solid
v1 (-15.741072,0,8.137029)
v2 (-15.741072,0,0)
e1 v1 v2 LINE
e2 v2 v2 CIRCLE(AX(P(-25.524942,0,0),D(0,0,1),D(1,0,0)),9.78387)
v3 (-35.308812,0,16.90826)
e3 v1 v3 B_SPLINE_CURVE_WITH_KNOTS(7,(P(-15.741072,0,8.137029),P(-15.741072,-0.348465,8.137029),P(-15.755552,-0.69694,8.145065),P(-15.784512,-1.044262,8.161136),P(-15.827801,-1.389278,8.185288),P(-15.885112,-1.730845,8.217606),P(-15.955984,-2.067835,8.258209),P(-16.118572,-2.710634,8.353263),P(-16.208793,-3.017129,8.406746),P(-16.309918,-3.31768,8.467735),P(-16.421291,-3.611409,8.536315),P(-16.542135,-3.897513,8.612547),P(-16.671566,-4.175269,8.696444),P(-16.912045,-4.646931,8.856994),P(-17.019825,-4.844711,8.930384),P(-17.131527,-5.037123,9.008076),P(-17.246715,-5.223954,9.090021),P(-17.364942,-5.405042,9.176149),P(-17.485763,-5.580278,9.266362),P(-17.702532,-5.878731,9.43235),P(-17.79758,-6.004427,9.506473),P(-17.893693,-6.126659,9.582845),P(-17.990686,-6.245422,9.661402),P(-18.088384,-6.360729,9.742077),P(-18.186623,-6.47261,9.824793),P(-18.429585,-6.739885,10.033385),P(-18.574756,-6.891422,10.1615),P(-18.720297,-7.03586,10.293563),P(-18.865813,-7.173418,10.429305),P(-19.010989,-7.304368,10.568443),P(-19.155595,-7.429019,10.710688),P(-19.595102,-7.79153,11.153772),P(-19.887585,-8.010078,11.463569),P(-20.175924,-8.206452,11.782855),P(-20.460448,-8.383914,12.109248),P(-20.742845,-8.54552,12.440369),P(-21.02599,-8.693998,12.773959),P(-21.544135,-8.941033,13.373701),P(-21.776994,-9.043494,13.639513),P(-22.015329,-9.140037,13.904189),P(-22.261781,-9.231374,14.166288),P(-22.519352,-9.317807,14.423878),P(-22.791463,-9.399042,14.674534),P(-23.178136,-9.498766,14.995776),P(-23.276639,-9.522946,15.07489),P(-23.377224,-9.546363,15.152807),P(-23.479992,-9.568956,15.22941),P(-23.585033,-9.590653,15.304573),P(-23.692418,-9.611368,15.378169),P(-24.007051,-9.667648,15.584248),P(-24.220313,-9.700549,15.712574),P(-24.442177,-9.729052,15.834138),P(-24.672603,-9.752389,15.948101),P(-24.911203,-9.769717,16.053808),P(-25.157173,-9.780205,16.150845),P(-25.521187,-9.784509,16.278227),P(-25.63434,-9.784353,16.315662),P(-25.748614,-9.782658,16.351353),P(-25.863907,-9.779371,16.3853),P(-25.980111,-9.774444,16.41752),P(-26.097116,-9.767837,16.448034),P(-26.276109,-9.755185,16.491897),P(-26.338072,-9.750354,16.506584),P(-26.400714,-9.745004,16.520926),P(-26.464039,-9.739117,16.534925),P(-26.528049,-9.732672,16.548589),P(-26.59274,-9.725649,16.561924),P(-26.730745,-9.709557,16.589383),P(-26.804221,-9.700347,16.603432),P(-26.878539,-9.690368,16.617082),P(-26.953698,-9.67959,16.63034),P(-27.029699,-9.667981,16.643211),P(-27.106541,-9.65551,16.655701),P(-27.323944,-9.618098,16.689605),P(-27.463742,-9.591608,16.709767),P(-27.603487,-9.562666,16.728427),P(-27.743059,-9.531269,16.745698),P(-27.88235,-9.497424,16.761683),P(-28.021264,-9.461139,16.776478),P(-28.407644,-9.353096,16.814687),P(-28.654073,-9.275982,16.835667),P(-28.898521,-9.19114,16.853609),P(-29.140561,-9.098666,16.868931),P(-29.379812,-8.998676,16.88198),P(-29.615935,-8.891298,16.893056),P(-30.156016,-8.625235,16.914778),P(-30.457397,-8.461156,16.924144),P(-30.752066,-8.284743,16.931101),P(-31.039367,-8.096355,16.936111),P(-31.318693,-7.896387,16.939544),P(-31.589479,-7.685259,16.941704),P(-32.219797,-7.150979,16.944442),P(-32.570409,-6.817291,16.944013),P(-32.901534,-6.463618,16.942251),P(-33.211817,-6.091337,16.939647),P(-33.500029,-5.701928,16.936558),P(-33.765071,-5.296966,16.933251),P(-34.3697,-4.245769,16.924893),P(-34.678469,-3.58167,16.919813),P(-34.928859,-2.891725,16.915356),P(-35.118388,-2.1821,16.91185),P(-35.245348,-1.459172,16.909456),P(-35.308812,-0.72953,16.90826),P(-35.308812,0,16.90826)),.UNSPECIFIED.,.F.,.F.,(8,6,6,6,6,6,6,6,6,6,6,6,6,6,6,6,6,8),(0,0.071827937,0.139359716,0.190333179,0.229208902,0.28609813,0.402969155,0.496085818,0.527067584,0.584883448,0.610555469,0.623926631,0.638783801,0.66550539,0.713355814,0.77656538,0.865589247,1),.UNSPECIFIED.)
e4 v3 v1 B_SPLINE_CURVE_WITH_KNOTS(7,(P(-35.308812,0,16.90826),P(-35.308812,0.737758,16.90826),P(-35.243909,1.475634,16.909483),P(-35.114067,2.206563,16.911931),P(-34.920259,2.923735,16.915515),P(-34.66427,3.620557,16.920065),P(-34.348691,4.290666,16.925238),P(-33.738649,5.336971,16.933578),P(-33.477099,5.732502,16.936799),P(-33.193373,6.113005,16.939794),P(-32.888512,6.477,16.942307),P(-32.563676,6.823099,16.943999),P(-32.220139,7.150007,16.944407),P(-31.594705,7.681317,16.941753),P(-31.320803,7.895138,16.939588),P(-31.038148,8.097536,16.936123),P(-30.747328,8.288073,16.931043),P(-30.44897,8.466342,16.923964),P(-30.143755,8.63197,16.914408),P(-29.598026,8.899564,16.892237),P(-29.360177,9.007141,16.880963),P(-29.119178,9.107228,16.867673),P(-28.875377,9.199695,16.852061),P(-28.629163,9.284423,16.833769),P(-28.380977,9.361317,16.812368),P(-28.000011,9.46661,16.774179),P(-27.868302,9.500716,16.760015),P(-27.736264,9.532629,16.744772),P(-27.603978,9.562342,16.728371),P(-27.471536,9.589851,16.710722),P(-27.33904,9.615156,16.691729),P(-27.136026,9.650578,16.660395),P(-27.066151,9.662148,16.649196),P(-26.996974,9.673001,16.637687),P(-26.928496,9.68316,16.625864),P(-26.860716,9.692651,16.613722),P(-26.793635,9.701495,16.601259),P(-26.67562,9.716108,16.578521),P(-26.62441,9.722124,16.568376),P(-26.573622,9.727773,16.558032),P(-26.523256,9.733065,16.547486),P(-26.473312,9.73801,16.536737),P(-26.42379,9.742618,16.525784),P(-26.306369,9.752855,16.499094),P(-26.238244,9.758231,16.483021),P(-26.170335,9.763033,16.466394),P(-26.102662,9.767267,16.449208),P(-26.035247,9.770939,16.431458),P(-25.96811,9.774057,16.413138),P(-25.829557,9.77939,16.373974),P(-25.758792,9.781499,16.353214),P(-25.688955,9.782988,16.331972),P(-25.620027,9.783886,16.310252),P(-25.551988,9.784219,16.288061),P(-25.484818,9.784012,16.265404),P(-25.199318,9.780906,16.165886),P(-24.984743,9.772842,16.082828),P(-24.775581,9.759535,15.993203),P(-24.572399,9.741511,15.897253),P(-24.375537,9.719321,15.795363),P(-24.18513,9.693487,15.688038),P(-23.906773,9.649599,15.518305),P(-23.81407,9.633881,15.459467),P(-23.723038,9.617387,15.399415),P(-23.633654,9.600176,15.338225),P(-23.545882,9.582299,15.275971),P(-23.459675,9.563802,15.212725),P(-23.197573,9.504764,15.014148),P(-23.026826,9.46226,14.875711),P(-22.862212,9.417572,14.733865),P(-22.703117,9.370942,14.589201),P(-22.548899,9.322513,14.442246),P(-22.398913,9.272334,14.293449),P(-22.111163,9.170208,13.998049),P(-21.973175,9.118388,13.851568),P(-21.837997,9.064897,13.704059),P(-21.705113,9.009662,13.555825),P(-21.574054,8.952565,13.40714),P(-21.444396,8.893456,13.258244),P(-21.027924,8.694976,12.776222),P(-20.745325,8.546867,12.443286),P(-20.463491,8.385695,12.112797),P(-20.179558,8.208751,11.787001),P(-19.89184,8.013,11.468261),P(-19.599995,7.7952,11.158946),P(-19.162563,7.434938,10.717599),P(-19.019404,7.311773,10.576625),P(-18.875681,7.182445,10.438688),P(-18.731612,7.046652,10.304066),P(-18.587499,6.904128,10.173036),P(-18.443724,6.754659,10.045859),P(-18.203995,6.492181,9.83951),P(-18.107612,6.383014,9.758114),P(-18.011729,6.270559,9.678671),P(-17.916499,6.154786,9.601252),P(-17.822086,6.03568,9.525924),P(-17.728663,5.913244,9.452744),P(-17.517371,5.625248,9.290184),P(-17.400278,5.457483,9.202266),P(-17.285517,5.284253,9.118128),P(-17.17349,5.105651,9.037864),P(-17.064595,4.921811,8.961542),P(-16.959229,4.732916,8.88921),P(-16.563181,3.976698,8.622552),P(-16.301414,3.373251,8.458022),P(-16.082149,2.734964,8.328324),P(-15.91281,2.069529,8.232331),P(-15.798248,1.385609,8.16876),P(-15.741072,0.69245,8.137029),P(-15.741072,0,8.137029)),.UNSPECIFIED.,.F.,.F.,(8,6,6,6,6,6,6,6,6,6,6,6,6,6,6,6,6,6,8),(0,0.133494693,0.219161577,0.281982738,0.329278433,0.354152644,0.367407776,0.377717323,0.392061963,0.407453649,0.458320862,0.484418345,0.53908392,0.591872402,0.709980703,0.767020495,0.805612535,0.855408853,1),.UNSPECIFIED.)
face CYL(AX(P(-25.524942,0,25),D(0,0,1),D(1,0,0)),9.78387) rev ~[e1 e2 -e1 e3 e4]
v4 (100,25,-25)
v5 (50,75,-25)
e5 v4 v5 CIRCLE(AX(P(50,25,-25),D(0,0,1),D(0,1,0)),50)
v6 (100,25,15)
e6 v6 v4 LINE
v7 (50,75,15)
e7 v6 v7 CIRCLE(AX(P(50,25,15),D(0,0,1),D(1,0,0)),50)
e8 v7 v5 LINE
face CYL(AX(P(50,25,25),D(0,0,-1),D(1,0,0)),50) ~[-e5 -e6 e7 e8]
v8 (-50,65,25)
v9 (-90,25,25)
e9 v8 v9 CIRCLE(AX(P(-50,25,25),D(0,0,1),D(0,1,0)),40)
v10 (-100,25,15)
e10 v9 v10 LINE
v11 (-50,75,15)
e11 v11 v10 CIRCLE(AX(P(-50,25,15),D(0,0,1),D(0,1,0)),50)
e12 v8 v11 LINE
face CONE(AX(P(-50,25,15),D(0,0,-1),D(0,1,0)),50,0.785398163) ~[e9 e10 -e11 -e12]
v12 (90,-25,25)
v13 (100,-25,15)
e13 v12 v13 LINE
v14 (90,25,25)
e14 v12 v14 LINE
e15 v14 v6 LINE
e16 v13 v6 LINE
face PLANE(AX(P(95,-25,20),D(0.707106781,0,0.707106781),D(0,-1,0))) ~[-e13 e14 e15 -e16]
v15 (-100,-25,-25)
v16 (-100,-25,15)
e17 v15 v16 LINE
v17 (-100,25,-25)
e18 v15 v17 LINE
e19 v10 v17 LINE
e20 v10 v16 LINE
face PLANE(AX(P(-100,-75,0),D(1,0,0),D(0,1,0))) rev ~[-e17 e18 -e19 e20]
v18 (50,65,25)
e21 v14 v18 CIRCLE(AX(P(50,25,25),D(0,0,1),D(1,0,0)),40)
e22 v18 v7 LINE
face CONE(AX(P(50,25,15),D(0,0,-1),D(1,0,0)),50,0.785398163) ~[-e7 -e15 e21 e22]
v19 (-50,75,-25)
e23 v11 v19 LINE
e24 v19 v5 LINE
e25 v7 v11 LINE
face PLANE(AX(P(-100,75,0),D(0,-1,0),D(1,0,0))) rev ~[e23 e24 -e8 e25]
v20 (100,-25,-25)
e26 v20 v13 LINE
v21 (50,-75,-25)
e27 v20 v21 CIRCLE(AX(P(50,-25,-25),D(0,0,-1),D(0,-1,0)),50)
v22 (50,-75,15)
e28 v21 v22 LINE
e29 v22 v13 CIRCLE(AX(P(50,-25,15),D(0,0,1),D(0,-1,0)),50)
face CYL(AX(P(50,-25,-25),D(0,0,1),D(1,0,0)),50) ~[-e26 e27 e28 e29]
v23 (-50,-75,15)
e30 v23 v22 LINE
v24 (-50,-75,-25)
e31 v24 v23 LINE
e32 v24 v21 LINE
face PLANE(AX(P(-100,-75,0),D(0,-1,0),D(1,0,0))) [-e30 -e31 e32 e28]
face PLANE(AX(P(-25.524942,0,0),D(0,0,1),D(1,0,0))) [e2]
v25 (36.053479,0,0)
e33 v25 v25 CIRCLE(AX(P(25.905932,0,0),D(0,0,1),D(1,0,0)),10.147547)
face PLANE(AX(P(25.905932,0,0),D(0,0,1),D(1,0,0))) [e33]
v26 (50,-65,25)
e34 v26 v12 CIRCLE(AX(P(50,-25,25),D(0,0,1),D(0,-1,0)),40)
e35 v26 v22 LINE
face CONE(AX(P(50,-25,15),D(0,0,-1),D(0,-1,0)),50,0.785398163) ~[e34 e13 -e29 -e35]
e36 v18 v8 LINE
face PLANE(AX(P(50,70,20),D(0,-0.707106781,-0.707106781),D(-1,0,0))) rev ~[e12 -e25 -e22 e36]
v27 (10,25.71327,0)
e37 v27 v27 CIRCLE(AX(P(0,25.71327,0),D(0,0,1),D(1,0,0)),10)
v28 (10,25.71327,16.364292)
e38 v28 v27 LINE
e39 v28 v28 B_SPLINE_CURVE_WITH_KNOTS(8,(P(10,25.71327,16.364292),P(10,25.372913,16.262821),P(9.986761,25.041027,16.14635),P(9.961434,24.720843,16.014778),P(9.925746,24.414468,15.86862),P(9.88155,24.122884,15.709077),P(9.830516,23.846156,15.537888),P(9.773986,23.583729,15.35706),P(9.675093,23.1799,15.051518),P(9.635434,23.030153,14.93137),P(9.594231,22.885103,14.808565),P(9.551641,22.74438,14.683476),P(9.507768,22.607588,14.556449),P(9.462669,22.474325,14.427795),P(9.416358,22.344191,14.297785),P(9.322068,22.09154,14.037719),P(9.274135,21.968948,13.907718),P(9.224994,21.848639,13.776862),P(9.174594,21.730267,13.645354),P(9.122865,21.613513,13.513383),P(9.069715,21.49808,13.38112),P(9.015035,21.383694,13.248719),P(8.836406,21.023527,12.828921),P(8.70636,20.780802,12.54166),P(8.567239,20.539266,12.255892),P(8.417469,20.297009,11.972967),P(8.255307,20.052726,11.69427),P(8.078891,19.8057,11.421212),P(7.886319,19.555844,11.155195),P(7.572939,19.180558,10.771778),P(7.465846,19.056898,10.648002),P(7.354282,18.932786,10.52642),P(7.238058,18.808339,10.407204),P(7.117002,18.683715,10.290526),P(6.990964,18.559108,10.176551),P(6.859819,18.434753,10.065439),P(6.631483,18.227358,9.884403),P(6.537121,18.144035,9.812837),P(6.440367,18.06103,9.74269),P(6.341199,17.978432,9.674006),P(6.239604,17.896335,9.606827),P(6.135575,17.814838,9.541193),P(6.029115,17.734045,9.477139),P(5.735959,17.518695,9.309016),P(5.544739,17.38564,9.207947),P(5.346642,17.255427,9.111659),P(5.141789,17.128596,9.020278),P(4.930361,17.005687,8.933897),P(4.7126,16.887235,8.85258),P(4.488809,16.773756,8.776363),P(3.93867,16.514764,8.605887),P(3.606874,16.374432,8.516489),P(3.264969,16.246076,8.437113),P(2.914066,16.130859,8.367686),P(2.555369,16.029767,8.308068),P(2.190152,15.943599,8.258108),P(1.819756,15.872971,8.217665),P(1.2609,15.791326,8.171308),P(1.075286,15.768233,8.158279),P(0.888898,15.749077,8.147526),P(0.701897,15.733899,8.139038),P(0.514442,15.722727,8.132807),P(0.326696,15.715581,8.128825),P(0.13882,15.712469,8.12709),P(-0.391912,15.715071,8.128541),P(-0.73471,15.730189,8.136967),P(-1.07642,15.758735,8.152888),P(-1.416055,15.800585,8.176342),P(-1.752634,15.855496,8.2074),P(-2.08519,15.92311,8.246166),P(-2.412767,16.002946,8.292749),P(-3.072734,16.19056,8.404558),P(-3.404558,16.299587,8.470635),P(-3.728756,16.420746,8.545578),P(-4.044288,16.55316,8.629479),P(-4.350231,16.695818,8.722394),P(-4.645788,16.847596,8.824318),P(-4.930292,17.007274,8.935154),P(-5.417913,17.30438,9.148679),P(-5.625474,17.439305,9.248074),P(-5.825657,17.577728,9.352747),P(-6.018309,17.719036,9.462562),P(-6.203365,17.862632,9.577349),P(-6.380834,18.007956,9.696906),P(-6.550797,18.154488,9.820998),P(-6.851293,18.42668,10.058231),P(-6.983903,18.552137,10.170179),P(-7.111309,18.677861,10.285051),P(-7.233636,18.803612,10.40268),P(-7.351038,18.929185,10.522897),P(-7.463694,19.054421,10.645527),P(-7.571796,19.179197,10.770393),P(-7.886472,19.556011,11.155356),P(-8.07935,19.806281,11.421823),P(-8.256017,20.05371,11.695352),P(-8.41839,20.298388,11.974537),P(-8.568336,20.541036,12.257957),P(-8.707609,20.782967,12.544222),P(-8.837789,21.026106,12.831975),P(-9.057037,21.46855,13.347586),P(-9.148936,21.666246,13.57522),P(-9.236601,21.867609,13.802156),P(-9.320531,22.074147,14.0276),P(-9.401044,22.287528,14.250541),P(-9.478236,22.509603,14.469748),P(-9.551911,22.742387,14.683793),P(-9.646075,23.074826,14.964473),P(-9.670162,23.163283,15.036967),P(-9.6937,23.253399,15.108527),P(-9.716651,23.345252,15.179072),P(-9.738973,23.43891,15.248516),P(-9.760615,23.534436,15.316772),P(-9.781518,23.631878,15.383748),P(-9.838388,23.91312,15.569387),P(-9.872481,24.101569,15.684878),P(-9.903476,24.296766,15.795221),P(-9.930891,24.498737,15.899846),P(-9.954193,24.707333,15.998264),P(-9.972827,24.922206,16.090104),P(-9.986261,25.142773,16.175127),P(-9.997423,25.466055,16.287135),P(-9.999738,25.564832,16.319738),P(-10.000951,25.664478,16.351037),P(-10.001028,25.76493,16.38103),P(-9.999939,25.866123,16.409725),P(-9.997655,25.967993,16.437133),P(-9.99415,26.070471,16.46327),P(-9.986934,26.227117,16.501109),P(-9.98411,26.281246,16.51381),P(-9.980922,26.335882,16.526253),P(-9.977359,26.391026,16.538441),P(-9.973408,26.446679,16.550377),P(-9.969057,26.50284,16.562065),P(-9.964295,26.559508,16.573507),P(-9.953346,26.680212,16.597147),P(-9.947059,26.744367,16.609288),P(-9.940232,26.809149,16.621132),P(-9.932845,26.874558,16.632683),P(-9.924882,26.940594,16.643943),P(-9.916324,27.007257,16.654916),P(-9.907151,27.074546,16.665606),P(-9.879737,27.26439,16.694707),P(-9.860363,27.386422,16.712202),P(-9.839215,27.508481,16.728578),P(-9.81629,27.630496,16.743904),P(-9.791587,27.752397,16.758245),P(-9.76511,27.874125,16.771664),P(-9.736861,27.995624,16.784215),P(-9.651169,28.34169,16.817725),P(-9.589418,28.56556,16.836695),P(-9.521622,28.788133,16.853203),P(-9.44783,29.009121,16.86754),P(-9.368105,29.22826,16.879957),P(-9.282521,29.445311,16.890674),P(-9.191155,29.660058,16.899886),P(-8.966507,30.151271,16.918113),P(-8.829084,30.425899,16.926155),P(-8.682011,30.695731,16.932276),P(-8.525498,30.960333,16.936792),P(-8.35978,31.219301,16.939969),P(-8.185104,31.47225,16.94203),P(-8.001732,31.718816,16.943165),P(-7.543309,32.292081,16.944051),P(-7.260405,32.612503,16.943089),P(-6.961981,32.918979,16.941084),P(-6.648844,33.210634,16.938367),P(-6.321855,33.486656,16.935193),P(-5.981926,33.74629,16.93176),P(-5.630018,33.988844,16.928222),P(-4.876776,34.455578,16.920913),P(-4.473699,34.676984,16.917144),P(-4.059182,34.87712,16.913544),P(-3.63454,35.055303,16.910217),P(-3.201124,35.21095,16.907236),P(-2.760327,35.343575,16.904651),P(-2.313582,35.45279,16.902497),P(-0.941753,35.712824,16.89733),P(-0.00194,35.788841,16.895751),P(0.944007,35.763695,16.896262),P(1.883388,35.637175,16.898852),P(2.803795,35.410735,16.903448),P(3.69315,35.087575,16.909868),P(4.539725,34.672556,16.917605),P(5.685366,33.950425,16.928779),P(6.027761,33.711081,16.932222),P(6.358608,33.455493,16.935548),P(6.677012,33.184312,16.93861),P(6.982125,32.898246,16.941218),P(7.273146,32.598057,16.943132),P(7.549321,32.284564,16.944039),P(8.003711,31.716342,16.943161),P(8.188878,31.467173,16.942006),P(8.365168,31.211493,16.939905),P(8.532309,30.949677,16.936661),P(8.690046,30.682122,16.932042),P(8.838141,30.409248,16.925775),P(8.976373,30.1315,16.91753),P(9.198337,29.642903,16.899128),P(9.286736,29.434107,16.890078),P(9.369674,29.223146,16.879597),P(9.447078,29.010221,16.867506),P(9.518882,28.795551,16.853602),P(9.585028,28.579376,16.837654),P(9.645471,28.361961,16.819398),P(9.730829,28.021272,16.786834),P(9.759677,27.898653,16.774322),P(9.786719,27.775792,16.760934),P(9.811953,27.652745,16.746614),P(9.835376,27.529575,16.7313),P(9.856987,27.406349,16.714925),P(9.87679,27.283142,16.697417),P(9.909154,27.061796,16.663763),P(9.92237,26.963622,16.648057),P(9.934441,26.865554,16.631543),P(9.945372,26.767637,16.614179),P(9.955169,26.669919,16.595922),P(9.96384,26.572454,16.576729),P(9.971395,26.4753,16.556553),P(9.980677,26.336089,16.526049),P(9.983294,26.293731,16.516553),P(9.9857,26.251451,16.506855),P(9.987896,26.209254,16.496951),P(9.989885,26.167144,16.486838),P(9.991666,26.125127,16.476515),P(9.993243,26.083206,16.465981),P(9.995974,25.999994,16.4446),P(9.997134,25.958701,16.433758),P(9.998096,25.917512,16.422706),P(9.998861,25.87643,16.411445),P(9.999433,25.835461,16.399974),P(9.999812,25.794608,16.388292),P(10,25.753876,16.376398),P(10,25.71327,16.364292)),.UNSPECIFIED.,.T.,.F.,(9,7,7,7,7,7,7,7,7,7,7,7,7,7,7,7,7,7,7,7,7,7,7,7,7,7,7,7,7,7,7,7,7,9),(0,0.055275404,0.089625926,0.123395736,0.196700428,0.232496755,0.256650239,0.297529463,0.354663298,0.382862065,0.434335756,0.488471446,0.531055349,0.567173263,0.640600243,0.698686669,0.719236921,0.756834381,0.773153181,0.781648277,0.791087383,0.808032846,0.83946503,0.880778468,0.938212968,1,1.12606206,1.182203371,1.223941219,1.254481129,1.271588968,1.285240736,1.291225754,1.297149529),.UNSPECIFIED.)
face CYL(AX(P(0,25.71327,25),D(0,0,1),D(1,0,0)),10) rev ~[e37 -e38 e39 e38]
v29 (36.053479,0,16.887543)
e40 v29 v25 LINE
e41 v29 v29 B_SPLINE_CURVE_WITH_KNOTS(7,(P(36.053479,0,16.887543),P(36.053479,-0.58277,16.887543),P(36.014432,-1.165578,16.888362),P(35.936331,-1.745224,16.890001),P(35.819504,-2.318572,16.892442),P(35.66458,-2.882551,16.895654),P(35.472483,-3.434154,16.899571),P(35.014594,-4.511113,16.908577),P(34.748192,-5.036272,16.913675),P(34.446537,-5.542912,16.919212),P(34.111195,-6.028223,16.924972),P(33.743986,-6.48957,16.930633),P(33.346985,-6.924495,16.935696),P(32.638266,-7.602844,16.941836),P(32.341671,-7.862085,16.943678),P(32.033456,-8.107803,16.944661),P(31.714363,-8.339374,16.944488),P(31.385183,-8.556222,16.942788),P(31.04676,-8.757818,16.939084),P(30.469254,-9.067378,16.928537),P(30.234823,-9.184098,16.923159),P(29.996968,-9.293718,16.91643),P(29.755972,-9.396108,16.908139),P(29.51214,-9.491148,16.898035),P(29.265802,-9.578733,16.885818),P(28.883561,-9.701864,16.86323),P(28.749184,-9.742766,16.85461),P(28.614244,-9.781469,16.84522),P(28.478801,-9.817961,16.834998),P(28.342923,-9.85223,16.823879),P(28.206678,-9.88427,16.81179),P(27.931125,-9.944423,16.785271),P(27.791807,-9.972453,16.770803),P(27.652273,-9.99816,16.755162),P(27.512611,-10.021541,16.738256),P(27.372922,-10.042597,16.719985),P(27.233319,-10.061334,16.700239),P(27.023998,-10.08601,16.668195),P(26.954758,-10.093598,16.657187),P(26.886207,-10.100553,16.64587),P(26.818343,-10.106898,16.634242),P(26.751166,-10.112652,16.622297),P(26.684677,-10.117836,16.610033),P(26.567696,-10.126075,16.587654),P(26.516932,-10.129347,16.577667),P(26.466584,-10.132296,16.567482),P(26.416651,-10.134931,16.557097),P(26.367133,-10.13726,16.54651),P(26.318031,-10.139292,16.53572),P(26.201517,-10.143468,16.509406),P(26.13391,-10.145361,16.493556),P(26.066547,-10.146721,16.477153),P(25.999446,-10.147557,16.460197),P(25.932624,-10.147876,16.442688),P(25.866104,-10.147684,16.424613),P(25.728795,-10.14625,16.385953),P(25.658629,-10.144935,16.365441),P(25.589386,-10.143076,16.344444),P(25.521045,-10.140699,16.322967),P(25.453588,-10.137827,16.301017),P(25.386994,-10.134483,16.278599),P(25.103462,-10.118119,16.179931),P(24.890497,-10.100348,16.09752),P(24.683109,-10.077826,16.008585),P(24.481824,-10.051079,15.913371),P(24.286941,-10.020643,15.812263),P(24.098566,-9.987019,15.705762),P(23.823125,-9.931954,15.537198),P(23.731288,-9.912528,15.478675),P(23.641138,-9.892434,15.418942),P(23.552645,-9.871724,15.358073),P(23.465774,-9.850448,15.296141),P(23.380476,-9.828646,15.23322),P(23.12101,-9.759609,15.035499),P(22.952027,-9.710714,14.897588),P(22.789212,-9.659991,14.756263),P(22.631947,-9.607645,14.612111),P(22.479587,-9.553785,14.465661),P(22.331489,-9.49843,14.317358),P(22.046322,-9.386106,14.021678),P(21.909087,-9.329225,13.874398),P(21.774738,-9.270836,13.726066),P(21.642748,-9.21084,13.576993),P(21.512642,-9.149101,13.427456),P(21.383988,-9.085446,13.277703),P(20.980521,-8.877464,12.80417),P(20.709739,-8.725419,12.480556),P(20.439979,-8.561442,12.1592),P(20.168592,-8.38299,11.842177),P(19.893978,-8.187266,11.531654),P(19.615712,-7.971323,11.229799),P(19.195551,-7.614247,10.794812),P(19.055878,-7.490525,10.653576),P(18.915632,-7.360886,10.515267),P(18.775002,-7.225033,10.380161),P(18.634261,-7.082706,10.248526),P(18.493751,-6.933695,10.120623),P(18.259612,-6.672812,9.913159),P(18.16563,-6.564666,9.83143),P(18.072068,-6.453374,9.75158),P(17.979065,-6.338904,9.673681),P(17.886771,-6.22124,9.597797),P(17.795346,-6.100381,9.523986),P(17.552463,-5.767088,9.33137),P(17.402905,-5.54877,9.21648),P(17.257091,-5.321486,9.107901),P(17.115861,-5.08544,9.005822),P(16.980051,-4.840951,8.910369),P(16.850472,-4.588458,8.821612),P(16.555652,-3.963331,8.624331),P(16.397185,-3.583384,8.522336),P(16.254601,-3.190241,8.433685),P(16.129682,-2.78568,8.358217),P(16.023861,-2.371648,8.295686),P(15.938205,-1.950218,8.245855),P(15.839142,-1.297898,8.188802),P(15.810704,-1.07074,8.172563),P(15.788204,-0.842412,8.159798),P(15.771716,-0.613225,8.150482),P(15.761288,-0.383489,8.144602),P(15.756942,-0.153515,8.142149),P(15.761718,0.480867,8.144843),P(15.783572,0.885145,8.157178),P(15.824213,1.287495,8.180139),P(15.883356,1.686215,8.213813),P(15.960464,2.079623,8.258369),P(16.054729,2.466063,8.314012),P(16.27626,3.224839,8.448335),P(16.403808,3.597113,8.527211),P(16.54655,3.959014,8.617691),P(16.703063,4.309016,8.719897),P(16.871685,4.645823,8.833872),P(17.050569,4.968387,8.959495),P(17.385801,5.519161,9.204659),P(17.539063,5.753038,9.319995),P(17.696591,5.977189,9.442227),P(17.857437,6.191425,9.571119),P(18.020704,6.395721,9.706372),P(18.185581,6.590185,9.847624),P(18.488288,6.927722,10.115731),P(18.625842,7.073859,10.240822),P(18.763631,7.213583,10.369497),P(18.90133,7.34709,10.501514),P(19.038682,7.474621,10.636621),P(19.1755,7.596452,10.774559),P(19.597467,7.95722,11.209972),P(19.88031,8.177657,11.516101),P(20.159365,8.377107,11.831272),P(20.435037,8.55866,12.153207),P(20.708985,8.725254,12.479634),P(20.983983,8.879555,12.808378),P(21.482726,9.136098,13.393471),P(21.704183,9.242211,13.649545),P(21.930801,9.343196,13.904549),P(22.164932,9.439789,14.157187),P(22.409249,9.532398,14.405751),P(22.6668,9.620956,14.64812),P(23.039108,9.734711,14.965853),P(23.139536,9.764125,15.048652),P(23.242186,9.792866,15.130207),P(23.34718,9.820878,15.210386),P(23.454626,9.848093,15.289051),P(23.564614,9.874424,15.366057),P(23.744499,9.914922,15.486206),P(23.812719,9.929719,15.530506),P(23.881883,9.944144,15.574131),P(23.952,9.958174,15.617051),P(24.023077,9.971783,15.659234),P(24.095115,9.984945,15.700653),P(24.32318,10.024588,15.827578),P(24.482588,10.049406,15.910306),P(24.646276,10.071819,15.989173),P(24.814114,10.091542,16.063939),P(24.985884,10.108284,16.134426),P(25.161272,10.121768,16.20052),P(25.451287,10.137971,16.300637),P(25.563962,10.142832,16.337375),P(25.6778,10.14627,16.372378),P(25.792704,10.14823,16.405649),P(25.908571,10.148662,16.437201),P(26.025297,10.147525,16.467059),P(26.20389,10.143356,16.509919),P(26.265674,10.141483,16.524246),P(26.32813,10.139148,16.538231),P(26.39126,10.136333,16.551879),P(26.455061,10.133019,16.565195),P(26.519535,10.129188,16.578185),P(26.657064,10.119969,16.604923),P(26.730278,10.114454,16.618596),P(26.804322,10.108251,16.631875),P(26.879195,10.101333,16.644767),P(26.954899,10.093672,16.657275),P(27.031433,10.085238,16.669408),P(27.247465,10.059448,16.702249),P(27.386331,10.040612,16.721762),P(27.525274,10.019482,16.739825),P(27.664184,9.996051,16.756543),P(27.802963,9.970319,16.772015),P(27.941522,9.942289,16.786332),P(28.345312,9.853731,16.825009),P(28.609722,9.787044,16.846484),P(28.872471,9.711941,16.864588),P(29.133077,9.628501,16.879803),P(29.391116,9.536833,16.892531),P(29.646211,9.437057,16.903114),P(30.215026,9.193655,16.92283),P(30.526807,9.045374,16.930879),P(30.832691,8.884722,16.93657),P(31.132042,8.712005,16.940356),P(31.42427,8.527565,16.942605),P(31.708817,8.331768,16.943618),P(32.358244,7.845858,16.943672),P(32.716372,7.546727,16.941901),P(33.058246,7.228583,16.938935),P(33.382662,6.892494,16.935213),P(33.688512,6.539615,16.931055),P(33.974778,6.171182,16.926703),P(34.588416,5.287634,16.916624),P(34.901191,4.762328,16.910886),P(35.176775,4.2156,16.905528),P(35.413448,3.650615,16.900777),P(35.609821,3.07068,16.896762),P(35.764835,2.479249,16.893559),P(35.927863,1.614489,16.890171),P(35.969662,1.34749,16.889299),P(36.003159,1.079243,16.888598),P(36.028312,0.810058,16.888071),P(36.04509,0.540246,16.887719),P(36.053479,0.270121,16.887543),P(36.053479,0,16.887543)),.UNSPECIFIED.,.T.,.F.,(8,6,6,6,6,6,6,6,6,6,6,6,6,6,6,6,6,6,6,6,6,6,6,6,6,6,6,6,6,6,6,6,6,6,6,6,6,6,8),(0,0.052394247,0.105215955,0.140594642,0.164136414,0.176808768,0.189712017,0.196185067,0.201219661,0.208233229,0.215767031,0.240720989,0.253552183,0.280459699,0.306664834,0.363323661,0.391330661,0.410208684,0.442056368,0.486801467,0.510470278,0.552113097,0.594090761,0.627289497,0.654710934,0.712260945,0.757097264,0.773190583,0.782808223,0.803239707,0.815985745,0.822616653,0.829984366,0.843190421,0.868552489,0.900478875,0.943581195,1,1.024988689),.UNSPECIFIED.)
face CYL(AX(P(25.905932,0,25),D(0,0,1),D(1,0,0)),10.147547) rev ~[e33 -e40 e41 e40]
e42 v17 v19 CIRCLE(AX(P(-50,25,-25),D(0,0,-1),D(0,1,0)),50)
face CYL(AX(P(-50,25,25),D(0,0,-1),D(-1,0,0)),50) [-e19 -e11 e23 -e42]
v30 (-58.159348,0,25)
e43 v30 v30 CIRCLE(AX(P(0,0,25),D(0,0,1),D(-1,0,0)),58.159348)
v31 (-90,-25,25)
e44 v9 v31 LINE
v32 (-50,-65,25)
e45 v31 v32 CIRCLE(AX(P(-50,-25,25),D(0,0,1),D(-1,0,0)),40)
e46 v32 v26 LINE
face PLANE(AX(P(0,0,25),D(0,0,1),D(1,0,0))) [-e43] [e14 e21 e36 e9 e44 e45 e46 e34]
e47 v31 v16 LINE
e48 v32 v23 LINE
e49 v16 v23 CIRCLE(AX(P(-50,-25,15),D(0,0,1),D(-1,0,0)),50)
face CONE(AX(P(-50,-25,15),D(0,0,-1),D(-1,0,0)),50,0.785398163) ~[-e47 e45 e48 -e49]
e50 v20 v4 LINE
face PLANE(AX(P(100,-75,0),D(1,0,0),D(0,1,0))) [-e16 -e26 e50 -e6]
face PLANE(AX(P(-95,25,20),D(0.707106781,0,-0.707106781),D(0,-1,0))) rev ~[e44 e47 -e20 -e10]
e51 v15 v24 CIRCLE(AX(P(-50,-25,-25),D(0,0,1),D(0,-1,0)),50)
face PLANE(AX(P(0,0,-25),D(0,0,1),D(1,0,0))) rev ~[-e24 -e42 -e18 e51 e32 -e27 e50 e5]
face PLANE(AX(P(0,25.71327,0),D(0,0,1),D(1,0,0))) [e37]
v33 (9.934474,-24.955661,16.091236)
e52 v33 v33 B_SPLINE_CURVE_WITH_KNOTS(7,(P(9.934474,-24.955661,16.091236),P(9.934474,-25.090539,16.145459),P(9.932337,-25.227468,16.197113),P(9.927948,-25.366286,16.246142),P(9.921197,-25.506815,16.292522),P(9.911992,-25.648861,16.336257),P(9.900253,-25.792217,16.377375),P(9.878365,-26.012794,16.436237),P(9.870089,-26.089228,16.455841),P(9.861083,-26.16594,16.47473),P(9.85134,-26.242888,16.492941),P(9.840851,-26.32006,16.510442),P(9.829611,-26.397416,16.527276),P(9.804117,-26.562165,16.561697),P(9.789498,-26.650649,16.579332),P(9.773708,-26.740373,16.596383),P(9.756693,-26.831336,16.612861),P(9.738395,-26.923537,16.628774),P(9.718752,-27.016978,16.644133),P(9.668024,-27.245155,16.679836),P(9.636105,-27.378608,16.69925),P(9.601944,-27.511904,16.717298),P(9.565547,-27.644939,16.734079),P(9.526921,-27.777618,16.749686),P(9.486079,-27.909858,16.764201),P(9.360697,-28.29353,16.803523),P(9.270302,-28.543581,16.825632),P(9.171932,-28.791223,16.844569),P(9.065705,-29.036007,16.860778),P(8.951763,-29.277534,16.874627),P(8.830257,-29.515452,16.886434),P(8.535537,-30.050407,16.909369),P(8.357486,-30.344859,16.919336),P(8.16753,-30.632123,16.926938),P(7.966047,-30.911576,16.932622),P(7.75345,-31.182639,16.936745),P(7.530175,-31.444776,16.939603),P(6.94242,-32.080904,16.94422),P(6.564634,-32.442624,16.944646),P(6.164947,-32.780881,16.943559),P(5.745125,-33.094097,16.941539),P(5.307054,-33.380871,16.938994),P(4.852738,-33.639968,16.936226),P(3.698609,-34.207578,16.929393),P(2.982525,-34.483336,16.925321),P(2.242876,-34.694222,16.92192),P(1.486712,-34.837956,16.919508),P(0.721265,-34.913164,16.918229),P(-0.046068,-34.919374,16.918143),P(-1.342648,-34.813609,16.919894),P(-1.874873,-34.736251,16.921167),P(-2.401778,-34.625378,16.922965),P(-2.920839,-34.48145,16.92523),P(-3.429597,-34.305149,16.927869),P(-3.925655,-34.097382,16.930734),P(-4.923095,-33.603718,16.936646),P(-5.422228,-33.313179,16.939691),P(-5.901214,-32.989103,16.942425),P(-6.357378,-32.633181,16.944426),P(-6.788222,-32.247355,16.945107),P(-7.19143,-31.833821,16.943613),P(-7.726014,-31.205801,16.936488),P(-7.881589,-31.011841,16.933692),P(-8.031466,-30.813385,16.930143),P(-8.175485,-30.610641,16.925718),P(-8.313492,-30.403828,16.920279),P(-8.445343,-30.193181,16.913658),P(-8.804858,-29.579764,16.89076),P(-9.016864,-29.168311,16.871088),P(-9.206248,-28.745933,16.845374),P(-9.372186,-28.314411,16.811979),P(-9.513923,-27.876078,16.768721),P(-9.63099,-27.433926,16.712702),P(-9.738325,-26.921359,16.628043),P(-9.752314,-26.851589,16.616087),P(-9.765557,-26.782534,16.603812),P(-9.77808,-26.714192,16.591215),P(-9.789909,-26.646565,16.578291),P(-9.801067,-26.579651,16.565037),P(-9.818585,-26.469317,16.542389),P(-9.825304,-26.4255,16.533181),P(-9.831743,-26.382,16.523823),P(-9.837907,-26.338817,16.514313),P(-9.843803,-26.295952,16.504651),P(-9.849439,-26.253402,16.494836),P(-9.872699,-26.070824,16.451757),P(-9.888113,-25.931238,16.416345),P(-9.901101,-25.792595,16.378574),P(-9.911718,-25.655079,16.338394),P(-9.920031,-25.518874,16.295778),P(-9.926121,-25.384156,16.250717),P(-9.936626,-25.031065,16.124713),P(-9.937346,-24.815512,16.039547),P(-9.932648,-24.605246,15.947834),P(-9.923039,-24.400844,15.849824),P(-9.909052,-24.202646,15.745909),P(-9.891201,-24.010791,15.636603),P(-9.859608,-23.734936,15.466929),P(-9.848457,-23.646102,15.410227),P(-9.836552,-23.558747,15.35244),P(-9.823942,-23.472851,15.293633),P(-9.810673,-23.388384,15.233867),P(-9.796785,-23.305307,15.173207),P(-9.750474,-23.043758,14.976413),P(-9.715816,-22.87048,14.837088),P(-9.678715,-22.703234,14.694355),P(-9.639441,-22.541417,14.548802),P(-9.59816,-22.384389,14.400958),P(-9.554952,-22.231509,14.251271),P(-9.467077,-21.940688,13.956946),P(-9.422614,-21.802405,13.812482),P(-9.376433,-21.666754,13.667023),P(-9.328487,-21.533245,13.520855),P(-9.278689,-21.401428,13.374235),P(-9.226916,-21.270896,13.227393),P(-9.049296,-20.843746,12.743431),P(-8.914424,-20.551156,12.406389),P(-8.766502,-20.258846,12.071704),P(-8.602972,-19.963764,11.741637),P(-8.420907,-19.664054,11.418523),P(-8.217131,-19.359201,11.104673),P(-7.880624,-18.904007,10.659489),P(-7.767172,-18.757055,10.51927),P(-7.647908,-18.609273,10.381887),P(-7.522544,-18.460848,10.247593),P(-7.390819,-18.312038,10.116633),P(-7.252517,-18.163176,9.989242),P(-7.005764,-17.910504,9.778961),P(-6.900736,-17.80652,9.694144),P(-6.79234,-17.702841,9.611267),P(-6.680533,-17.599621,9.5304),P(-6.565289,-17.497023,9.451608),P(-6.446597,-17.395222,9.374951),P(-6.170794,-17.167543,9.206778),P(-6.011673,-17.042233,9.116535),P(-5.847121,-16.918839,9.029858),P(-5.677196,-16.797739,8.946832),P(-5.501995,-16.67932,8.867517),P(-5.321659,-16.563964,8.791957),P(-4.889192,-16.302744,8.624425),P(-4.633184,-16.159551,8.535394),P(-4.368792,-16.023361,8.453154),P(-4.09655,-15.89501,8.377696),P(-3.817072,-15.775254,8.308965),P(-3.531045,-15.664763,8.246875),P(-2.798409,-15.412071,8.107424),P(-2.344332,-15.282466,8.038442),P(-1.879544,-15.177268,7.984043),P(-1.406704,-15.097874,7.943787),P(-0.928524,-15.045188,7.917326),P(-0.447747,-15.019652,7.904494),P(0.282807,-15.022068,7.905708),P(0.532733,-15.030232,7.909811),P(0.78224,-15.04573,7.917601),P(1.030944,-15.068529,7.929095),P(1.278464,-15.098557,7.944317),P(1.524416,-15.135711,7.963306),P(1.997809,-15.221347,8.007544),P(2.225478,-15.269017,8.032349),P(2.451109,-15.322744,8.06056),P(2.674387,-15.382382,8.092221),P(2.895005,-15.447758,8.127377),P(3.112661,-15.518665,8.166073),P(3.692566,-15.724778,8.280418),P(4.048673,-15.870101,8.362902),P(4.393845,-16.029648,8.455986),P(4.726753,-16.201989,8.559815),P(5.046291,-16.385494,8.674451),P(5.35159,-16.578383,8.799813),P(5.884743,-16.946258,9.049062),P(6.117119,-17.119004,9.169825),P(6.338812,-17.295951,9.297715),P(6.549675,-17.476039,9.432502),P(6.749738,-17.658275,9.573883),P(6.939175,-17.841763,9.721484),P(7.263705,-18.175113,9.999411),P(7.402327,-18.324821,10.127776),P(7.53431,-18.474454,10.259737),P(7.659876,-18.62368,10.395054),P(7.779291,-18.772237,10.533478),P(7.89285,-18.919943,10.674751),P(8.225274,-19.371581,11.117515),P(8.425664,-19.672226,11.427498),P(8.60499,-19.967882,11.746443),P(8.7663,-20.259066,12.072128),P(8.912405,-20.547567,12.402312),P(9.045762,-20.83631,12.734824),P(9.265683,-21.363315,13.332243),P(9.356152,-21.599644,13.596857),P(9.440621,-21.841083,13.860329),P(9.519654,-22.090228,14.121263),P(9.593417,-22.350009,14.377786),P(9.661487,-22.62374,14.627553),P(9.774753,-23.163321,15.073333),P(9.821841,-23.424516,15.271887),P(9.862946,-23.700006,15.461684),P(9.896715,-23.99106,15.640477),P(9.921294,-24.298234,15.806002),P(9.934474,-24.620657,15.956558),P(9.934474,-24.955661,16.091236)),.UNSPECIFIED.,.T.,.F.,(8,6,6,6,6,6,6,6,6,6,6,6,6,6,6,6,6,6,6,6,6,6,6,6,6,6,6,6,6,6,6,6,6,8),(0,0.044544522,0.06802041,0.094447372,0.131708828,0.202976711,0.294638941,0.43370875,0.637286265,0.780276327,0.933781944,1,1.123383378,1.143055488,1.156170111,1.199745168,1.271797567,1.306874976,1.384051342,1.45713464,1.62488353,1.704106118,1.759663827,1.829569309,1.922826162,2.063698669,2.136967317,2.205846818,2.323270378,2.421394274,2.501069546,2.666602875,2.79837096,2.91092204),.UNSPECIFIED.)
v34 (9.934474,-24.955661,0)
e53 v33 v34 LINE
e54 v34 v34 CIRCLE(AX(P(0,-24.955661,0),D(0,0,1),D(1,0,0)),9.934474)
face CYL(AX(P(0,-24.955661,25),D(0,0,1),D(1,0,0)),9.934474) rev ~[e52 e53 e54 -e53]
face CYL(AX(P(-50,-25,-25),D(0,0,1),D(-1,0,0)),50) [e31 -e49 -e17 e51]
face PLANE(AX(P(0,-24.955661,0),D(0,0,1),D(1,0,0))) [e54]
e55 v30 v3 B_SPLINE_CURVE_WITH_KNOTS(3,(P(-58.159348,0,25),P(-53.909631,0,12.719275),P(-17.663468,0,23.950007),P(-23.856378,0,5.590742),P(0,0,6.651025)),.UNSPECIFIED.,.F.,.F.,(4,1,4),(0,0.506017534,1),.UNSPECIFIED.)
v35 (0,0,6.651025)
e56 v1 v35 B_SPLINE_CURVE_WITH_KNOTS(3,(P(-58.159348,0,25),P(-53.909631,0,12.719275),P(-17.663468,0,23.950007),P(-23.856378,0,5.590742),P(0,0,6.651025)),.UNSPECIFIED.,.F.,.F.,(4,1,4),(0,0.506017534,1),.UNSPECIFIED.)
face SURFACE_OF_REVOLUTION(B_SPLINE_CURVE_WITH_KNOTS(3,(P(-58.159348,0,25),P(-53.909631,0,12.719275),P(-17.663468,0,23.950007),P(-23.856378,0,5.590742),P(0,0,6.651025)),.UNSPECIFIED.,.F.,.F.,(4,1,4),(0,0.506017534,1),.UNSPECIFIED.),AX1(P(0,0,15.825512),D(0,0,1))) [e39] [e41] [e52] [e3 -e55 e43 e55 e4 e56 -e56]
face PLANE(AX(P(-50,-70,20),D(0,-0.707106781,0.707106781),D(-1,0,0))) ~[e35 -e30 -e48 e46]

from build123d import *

# Parameters (mm, degrees)
F0_W     = 200
F0_H     = 150
F1_DEPTH = 25
F2_R     = 50
F5_SIZE  = 10
F6_R     = 9.7838698058
F6_R_2   = 10
F6_R_3   = 10.147546669
F6_R_4   = 9.9344737349
F7_DEPTH = 25


with BuildPart() as f1:
    # F0 (on Top) → F1 (new body, symmetric)
    with BuildSketch(Plane.XY):
        Rectangle(F0_W, F0_H)
    extrude(amount=F1_DEPTH, both=True)

    # F2
    f2_edges = [f1.edges().sort_by_distance(p)[0] for p in [
        (-100, -75, 0),
        (100, -75, 0),
        (100, 75, 0),
        (-100, 75, 0),
    ]]
    fillet(f2_edges, radius=F2_R)

    # F3 (on Front) → F4 (revolve, cut)
    with BuildSketch(Plane.XZ):
        with BuildLine():
            Line((0, 25), (-58.1593476236, 25))
            add(Edge.make_bspline(
                [(-58.1593476236, 25), (-53.9096311875, 12.7192745819), (-17.6634682668, 23.9500074163), (-23.8563775859, 5.5907417856), (0, 6.6510247998)],
                knots=[0, 0, 0, 0, 0.5060175337, 1, 1, 1, 1], degree=3))
            Line((0, 6.6510247998), (0, 25))
        make_face()
    revolve(axis=Axis((0, 0, 15.8255123999), (0, 0, 1)), mode=Mode.SUBTRACT)

    # F5
    f5_edges = [f1.edges().sort_by_distance(p)[0] for p in [
        (0, -75, 25),
    ]]
    chamfer(f5_edges, length=F5_SIZE)

    # F6 (on face) → F7 (cut)
    with BuildSketch(Plane.XY.offset(25)):
        with Locations((-25.5249421373, 0)):
            Circle(F6_R)
        with Locations((0, 25.7132698898)):
            Circle(F6_R_2)
        with Locations((25.905932002, 0)):
            Circle(F6_R_3)
        with Locations((0, -24.9556606683)):
            Circle(F6_R_4)
    extrude(amount=-F7_DEPTH, mode=Mode.SUBTRACT)


solid = f1.part
